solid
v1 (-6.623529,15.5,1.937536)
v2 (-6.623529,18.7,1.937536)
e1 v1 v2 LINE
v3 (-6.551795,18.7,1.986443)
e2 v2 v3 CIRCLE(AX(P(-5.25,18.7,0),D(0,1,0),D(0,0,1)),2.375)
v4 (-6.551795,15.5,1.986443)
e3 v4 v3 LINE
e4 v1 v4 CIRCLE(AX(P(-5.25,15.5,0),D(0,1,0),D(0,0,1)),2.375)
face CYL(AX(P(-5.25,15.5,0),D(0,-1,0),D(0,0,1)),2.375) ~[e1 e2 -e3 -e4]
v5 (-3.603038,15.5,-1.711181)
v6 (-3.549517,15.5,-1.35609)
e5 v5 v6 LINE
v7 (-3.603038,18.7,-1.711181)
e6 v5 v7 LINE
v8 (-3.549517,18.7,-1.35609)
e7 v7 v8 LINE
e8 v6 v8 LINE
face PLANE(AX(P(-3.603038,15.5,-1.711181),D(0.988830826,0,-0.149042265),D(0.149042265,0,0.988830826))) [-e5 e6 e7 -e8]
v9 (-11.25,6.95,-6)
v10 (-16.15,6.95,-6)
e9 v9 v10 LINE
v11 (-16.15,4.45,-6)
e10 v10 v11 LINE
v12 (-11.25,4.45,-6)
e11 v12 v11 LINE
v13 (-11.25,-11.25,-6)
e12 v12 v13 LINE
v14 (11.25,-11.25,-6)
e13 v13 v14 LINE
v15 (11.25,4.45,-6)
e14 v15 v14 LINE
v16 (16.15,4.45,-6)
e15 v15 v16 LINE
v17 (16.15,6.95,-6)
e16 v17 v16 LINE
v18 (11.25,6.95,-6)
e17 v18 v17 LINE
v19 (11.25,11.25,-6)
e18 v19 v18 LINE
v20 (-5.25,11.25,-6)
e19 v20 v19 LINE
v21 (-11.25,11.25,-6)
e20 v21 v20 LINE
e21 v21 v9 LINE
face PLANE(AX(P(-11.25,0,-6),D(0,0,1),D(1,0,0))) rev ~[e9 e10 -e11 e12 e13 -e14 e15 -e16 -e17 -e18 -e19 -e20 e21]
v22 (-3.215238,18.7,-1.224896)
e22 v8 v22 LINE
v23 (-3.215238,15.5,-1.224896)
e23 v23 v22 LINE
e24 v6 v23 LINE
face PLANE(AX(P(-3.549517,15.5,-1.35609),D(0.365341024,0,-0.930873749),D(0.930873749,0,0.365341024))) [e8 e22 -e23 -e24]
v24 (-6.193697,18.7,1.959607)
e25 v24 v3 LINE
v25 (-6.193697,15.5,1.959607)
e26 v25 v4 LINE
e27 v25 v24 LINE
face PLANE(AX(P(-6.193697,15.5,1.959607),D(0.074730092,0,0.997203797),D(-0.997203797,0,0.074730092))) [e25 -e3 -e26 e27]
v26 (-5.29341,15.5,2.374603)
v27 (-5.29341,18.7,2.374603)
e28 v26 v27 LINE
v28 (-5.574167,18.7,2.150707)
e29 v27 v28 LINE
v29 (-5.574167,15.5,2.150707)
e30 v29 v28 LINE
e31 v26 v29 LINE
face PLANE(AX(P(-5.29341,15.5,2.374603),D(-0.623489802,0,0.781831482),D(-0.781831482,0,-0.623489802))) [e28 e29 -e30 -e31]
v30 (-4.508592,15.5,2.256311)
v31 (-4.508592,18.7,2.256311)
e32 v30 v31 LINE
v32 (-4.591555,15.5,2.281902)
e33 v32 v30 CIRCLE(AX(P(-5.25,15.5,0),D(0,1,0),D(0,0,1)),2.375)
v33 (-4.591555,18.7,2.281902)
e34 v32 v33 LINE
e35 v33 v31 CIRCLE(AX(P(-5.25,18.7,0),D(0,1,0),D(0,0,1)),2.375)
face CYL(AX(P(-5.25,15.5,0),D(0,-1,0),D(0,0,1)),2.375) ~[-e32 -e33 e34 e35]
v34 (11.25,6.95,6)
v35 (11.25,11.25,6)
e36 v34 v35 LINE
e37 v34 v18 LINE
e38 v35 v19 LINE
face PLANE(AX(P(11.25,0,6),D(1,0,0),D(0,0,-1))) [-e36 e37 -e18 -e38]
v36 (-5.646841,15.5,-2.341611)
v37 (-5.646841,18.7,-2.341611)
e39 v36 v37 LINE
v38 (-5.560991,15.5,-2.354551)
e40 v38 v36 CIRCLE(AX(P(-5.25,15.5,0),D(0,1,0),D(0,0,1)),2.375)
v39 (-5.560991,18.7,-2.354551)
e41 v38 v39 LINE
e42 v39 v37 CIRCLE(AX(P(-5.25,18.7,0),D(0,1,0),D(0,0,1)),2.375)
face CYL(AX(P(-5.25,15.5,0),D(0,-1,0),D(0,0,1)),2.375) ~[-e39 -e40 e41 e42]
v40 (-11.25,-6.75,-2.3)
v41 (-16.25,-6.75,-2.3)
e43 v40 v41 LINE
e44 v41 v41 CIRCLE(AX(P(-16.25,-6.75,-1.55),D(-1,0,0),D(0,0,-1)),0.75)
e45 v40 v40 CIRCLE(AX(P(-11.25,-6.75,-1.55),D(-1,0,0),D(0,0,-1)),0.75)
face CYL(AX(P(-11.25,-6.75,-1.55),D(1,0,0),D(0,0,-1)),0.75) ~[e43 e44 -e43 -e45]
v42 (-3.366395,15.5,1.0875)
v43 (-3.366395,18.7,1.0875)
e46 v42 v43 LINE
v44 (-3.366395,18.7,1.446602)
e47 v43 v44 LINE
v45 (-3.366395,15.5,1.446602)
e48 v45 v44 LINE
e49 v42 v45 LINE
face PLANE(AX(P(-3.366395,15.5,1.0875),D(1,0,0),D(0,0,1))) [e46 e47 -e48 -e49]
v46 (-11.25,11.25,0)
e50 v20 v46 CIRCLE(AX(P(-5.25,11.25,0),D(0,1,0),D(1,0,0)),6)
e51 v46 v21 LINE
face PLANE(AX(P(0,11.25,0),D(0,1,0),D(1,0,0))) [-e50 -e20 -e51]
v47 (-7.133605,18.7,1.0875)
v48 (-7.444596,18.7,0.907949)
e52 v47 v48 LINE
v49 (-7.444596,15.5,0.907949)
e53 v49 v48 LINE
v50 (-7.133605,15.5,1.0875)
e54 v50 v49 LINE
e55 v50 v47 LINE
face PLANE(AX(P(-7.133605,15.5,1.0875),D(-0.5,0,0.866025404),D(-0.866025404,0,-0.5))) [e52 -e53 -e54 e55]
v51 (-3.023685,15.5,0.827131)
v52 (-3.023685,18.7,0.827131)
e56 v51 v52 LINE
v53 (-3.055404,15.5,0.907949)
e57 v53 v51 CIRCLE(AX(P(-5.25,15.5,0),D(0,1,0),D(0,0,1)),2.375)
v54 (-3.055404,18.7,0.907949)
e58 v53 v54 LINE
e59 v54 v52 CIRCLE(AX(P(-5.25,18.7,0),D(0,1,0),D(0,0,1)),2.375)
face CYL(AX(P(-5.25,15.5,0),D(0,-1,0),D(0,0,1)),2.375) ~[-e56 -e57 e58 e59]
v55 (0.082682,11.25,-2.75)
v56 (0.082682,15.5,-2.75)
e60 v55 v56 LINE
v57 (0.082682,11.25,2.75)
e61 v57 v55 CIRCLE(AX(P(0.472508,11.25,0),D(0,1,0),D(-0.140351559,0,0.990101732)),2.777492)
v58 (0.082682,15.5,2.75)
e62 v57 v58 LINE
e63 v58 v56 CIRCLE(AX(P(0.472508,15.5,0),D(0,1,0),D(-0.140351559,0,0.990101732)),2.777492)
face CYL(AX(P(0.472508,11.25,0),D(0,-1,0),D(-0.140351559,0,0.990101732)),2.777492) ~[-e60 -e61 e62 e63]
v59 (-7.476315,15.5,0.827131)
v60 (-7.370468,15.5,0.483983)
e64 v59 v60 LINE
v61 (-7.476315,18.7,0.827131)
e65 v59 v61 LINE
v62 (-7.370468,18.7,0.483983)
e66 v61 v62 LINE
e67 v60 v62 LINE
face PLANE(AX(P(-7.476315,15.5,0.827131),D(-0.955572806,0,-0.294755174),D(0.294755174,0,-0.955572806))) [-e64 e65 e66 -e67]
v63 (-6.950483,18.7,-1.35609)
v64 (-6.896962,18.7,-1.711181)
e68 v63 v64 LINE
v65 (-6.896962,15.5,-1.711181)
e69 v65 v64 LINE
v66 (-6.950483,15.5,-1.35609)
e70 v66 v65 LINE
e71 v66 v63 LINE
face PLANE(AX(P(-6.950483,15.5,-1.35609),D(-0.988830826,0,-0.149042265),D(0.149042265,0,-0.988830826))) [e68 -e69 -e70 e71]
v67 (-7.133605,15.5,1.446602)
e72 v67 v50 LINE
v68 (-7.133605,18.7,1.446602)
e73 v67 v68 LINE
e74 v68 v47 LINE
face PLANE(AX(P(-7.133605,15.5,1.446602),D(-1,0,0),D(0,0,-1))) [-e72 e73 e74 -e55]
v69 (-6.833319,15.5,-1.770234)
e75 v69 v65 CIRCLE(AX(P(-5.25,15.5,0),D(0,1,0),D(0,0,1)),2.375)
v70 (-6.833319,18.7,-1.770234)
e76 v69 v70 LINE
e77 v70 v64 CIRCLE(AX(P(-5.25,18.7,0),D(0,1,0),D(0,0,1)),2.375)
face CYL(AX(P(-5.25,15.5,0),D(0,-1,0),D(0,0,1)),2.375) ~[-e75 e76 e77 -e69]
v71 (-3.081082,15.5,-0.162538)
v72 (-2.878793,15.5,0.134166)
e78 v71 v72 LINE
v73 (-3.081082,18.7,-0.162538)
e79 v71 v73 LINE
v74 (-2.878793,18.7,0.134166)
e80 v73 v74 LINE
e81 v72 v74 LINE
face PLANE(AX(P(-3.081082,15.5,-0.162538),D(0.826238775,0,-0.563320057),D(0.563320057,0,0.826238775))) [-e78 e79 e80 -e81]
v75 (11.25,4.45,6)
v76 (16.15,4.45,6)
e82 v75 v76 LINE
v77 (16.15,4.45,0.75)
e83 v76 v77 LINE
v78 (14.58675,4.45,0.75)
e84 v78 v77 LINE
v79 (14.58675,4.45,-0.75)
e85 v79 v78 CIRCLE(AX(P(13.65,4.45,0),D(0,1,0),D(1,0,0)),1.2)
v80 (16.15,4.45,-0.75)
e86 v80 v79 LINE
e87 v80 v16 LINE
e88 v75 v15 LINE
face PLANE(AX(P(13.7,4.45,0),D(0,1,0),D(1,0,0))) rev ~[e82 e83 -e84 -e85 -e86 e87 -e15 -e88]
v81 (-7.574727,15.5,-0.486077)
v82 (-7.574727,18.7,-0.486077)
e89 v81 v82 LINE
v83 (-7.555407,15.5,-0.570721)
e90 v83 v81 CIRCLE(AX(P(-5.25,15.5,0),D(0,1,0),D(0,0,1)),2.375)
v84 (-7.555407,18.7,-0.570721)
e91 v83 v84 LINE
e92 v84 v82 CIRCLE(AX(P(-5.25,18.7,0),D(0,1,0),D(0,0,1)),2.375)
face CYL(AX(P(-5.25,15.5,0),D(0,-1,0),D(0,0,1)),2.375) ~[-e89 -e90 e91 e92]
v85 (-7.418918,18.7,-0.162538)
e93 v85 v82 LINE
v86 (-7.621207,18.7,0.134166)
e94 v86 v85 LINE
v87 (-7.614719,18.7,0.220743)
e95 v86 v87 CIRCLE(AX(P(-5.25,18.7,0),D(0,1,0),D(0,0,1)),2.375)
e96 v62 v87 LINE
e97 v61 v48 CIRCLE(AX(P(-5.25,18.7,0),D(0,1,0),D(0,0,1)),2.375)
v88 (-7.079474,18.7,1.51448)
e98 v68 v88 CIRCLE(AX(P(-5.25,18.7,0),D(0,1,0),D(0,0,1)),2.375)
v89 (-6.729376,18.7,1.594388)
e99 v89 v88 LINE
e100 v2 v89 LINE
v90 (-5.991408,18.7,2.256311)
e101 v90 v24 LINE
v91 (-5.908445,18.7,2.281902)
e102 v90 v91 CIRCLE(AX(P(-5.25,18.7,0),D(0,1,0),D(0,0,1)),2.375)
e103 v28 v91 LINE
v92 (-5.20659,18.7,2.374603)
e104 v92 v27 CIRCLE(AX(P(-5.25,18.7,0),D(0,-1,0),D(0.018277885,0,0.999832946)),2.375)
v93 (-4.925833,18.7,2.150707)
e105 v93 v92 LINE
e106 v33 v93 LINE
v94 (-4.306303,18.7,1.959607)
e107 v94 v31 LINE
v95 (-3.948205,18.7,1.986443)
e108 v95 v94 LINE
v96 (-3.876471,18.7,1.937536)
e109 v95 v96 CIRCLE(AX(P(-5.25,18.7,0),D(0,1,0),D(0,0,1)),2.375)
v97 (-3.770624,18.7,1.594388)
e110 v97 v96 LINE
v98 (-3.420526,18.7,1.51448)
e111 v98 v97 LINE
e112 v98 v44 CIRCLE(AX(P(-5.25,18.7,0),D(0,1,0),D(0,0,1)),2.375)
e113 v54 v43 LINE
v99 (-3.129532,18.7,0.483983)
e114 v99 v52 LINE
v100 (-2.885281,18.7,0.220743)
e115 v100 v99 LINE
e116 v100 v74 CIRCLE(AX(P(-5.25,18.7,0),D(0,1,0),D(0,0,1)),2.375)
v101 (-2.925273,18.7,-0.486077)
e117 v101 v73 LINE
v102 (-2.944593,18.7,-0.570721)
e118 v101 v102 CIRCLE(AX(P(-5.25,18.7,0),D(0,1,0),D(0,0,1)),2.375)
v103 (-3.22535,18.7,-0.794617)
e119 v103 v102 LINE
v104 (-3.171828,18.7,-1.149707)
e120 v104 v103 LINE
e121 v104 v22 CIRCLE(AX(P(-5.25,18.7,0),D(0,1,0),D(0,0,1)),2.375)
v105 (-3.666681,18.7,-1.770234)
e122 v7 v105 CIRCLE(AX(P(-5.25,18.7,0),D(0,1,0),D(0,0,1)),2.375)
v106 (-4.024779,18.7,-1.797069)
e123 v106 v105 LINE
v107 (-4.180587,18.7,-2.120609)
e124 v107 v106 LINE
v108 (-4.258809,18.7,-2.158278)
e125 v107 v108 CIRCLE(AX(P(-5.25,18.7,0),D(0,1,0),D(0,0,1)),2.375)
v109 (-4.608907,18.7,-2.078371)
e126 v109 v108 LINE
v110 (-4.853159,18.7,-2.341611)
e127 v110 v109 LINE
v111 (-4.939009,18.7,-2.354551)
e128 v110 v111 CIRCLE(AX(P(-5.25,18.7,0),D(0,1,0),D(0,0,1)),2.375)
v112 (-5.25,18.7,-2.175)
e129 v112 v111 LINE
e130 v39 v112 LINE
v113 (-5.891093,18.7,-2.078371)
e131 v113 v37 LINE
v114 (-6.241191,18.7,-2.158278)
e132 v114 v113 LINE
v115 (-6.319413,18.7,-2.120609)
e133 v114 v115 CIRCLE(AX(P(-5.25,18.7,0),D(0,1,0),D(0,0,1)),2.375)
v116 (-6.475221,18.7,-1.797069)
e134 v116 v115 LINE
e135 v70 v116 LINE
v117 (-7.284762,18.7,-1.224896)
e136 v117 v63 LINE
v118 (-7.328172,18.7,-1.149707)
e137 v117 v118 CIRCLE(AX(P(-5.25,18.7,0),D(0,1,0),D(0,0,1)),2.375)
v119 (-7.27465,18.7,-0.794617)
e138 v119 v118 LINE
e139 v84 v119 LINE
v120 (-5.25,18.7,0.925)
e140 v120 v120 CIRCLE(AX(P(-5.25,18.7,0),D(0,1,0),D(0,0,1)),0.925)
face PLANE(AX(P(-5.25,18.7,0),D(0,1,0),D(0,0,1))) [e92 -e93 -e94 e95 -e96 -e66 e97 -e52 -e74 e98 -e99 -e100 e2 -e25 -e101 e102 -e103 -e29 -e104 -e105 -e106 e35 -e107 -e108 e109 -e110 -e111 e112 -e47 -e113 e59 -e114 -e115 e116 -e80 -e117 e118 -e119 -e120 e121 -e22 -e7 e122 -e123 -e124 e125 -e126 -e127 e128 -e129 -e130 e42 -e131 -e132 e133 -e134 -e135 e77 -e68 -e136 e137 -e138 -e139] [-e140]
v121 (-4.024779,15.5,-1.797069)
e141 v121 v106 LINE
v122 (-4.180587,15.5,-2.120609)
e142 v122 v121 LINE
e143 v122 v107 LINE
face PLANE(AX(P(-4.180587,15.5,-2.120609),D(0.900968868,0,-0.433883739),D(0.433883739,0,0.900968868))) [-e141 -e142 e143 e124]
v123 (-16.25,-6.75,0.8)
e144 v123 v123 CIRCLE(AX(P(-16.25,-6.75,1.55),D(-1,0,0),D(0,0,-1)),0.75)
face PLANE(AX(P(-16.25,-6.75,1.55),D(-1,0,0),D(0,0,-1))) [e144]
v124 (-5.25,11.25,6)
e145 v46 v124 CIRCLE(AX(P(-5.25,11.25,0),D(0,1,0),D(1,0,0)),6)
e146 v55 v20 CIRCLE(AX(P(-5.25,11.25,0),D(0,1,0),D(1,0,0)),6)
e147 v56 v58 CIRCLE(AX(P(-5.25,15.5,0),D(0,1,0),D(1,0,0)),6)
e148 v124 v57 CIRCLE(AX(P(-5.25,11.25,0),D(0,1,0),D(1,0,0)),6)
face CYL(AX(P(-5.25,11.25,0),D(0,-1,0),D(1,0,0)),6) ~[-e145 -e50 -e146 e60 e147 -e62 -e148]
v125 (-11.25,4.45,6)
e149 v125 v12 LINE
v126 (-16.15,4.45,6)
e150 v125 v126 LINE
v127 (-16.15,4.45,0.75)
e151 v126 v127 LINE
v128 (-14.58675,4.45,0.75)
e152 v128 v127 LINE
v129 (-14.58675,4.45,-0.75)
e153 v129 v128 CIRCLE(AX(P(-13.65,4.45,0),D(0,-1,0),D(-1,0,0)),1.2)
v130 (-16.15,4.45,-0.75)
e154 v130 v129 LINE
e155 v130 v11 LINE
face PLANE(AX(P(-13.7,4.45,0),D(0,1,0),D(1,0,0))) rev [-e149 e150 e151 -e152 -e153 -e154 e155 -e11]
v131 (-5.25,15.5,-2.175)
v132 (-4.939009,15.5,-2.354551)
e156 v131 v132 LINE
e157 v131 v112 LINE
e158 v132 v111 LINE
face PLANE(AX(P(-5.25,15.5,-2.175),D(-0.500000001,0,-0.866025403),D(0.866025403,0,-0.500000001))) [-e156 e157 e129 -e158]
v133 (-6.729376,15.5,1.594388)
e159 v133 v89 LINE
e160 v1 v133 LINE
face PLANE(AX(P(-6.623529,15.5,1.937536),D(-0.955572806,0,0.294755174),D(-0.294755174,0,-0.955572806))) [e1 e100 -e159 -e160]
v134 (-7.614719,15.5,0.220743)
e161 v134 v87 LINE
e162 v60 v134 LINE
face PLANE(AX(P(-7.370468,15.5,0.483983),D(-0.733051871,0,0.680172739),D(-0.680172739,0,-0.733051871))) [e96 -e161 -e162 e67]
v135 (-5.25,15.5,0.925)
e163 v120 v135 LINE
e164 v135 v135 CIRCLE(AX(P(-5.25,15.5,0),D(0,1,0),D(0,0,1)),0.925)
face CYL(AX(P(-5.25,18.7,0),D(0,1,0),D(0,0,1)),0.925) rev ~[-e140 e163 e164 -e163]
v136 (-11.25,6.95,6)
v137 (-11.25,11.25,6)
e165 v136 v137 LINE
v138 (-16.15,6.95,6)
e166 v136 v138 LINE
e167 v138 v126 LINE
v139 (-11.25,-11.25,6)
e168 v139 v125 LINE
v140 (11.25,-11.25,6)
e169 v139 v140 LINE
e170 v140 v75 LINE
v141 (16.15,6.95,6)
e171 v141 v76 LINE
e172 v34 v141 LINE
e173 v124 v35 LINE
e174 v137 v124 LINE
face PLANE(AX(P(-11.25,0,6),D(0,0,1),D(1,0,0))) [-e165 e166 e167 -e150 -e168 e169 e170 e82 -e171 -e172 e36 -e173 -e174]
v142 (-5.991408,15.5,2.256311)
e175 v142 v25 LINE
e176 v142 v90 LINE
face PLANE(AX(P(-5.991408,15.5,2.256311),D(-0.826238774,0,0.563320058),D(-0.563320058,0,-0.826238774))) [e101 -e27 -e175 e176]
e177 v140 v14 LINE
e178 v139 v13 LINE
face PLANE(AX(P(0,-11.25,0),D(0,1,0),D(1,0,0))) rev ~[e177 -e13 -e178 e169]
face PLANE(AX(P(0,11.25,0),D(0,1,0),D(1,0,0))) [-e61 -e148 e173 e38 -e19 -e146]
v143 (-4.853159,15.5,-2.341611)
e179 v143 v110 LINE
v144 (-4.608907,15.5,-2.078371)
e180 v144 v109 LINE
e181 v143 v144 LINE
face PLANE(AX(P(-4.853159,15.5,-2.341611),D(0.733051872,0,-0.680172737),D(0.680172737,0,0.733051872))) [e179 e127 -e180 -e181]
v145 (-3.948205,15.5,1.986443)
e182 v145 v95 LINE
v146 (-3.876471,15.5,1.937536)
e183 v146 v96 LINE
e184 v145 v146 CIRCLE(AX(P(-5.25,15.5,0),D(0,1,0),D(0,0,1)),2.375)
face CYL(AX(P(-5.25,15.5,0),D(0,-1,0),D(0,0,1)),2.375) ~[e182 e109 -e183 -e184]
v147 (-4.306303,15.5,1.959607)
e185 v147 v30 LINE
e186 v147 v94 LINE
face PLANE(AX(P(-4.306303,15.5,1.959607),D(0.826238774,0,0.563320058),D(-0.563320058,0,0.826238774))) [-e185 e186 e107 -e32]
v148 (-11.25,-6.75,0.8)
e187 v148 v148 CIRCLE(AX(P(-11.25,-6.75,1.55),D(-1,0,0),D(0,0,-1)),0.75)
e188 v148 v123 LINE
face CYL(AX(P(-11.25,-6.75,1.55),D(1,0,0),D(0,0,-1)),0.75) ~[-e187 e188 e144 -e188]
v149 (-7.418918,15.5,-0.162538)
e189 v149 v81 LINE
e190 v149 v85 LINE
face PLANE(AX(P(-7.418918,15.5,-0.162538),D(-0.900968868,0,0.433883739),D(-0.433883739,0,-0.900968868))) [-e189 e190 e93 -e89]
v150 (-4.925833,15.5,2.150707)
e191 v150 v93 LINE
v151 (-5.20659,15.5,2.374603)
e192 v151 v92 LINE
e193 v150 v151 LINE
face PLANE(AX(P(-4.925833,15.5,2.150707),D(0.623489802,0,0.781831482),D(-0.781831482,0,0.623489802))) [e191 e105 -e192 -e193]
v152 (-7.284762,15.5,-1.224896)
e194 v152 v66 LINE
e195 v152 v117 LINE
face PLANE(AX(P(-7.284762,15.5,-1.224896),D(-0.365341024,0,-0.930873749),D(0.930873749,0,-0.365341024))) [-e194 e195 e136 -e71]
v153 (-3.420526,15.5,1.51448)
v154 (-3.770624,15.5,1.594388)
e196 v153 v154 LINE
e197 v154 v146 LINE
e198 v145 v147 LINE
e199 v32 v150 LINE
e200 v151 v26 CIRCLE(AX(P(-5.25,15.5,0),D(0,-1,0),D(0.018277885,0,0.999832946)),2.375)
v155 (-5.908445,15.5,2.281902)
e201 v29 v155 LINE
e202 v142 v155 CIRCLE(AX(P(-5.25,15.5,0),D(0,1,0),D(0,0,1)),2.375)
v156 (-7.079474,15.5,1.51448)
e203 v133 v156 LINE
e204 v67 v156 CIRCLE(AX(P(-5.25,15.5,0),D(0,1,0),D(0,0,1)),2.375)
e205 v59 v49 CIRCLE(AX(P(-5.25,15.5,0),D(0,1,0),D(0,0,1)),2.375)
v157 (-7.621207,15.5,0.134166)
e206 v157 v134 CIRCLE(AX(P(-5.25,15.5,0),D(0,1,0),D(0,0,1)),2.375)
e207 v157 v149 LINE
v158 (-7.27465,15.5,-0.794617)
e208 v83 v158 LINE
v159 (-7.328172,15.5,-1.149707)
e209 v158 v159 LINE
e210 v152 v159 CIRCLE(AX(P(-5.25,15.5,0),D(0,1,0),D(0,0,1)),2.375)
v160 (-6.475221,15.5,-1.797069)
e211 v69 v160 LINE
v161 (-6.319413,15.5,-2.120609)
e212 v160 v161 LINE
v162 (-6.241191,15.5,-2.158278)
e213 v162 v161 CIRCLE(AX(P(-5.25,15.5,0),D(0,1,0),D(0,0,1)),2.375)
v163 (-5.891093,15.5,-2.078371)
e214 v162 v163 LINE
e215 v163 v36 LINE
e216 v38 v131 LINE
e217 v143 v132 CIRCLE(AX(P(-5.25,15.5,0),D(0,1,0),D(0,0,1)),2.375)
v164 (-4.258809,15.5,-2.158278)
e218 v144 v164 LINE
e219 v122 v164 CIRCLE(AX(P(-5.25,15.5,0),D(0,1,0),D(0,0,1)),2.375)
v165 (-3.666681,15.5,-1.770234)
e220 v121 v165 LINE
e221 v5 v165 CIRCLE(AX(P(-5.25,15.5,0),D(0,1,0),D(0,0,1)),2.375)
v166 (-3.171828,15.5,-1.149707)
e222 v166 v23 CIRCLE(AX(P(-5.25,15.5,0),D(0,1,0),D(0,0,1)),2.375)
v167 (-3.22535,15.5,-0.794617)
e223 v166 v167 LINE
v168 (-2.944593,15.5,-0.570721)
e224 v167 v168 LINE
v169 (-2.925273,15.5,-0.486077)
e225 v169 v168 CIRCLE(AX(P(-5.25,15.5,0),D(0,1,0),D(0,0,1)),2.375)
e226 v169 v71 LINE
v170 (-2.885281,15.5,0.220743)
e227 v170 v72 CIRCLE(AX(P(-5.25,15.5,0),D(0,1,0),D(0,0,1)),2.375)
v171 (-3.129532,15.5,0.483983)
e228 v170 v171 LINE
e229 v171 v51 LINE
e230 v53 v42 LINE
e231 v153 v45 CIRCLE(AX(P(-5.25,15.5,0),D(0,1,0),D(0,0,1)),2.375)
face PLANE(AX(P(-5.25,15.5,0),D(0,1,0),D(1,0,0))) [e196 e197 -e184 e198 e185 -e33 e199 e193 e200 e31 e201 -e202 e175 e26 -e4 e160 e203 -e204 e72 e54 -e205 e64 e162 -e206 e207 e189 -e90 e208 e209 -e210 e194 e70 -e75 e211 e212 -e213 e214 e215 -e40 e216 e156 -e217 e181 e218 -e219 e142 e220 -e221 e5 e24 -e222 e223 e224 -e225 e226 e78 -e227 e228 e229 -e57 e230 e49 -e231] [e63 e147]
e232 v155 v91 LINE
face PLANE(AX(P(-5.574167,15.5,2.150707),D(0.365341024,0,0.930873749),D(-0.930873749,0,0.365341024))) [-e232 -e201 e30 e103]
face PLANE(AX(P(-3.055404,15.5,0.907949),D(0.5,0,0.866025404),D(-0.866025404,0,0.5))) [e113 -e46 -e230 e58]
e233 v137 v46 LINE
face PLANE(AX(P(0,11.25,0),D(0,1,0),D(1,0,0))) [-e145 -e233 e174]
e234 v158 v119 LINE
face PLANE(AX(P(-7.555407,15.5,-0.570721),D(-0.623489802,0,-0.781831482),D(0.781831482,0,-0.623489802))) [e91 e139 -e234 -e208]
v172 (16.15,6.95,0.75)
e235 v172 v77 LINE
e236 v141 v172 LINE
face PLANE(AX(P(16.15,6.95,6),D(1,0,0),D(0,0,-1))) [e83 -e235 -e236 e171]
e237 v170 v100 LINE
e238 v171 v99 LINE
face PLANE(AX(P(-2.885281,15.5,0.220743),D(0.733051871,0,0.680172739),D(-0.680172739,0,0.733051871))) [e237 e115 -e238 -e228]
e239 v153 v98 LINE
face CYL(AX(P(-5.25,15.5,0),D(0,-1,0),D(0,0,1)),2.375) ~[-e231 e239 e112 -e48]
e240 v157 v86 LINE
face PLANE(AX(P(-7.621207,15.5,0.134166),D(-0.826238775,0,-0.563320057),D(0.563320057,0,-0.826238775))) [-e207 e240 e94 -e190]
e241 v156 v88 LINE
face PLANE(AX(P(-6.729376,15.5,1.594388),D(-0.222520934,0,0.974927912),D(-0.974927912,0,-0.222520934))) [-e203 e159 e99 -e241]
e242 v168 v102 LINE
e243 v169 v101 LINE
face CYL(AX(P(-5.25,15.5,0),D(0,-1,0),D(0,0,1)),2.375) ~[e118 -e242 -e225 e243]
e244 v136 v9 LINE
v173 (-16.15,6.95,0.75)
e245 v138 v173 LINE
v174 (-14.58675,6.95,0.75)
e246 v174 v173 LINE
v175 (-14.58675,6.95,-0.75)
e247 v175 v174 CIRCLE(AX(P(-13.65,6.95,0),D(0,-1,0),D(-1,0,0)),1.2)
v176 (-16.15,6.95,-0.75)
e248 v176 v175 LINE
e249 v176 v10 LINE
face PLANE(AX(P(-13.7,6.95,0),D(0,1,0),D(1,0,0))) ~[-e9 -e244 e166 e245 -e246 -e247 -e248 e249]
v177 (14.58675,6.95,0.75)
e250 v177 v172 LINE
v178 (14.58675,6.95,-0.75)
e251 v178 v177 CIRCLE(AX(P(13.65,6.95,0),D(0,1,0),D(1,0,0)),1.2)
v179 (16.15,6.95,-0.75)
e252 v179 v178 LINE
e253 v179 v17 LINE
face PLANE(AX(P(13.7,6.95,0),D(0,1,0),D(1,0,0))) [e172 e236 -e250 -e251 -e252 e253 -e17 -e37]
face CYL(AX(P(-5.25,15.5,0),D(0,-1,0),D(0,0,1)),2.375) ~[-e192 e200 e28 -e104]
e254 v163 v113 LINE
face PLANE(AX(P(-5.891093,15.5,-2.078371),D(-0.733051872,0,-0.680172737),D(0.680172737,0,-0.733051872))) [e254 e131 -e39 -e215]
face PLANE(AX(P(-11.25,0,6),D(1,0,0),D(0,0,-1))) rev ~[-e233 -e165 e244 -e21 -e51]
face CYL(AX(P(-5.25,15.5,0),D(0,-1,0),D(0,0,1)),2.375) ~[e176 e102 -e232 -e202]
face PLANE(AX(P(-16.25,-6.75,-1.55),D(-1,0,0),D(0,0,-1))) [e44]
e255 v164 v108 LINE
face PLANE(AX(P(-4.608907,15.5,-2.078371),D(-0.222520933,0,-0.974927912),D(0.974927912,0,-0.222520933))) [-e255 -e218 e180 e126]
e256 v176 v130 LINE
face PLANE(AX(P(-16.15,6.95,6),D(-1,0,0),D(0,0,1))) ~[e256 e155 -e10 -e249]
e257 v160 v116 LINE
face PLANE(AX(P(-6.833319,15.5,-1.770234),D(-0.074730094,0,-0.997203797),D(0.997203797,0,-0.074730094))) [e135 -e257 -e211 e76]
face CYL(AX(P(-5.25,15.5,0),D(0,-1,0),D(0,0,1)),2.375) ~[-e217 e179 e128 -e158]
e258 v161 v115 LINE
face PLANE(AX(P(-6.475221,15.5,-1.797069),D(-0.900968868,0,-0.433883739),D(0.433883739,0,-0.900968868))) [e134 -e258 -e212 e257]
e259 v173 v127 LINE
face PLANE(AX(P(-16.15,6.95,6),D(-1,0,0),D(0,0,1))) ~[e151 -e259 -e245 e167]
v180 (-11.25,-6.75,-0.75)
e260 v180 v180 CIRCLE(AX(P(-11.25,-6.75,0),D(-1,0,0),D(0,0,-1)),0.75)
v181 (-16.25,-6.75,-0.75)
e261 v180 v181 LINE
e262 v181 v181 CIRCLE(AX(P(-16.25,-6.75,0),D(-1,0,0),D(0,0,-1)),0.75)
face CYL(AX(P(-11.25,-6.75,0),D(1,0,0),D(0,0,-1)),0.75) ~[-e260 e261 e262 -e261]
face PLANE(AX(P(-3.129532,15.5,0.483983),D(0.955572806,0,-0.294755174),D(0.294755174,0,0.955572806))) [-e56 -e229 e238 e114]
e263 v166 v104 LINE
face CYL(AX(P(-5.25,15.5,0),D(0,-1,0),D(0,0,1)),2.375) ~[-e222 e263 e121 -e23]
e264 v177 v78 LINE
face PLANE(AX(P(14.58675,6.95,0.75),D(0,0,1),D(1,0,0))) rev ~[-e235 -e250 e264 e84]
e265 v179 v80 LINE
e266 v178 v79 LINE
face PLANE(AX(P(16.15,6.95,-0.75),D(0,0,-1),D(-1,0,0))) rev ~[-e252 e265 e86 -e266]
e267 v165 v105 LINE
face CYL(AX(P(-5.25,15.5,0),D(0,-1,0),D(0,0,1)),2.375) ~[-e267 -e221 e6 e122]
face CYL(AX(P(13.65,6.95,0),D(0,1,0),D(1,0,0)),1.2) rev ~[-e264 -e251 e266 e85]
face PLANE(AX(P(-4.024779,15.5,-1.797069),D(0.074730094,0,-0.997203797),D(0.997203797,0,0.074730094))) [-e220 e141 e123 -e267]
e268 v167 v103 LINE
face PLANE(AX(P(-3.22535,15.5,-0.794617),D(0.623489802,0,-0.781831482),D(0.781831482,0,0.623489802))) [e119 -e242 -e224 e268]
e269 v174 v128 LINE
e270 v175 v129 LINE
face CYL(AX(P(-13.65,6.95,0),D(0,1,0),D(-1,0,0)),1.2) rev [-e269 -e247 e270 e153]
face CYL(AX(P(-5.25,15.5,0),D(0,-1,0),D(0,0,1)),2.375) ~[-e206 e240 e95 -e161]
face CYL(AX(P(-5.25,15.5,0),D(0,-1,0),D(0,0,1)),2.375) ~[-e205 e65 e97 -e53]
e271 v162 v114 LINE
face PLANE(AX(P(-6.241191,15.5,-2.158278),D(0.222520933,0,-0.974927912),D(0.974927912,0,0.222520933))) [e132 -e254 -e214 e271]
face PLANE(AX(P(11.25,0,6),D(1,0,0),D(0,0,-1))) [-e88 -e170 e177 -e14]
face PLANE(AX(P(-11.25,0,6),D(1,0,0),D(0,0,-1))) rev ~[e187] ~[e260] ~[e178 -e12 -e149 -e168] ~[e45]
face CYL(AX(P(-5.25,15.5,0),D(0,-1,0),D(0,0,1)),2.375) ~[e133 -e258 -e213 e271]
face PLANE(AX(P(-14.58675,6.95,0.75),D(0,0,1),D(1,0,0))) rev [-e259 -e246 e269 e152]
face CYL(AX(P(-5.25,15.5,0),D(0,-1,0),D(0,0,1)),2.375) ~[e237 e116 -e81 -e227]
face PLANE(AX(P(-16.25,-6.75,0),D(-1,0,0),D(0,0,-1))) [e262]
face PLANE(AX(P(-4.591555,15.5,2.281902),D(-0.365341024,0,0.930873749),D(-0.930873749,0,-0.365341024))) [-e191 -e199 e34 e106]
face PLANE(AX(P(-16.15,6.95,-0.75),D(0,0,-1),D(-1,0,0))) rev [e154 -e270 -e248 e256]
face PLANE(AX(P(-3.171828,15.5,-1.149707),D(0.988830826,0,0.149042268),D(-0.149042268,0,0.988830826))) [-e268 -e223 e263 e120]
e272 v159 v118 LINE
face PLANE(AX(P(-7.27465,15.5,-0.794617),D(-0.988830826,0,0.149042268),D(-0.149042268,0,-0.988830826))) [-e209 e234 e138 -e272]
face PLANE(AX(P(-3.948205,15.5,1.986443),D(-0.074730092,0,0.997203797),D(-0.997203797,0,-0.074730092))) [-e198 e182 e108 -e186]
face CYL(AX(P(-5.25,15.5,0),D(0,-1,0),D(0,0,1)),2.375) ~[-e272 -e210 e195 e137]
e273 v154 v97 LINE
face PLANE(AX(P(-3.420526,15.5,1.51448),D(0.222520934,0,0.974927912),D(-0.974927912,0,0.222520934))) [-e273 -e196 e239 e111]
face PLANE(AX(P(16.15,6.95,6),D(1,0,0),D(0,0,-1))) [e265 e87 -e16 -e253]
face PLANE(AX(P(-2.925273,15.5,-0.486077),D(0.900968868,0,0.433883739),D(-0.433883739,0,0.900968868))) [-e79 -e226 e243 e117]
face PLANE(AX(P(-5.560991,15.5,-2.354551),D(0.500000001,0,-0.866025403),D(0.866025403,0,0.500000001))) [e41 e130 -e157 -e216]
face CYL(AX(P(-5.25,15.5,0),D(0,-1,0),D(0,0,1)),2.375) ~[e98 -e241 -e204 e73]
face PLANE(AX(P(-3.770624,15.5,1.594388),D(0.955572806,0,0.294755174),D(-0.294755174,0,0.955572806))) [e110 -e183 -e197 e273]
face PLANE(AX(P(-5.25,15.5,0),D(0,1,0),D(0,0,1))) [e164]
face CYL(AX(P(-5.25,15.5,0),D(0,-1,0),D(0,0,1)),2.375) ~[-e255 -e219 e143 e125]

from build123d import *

# Parameters (mm, degrees)
SKETCH1_W           = 22.5
SKETCH1_H           = 12
BOSS_EXTRUDE1_DEPTH = 11.25
SKETCH3_R           = 6
SKETCH3_R_2         = 2.777492364
BOSS_EXTRUDE3_DEPTH = 4.25
SKETCH4_W           = 4.9
SKETCH4_H           = 12
BOSS_EXTRUDE4_DEPTH = 2.5
SKETCH5_R           = 1.2
CUT_EXTRUDE1_DEPTH  = 2.5
SKETCH6_R           = 0.75
BOSS_EXTRUDE5_DEPTH = 5
SKETCH7_R           = 2.375
BOSS_EXTRUDE6_DEPTH = 3.2
CUT_EXTRUDE2_START  = -3.2
CUT_EXTRUDE2_DEPTH  = 3.2
SKETCH9_R           = 0.925
CUT_EXTRUDE3_DEPTH  = 3.2


with BuildPart() as part:
    # Sketch1 → Boss-Extrude1 (new, symmetric)
    with BuildSketch(Plane(origin=(0, 0, 0), x_dir=(1, 0, 0), z_dir=(0, 1, 0))):
        Rectangle(SKETCH1_W, SKETCH1_H)
    extrude(amount=BOSS_EXTRUDE1_DEPTH, both=True)

    # Sketch3 → Boss-Extrude3 (add)
    with BuildSketch(Plane(origin=(0, 11.25, 0), x_dir=(1, 0, 0), z_dir=(0, 1, 0))):
        with Locations((-5.25, 0)):
            Circle(SKETCH3_R)
        with Locations((0.472507636, 0)):
            Circle(SKETCH3_R_2)
    extrude(amount=BOSS_EXTRUDE3_DEPTH)

    # Sketch4 → Boss-Extrude4 (add)
    with BuildSketch(Plane(origin=(0, 6.95, 0), x_dir=(1, 0, 0), z_dir=(0, 1, 0))):
        with Locations((13.7, 0)):
            Rectangle(SKETCH4_W, SKETCH4_H)
    boss_extrude4 = extrude(amount=-BOSS_EXTRUDE4_DEPTH)

    # Sketch5 → Cut-Extrude1 (cut)
    with BuildSketch(Plane(origin=(0, 6.95, 0), x_dir=(1, 0, 0), z_dir=(0, 1, 0))):
        with BuildLine():
            Line((16.15, -0.75), (16.15, 0.75))
            Line((16.15, 0.75), (14.5867497, 0.75))
            ThreePointArc((14.5867497, 0.75), (14.782276388, 0.397429466), (14.85, 0))
            ThreePointArc((14.85, 0), (14.782276388, -0.397429466), (14.5867497, -0.75))
            Line((14.5867497, -0.75), (16.15, -0.75))
        make_face()
        with Locations((13.65, 0)):
            Circle(SKETCH5_R)
    cut_extrude1 = extrude(amount=-CUT_EXTRUDE1_DEPTH, mode=Mode.SUBTRACT)

    # Mirror1: Boss-Extrude4, Cut-Extrude1 across plane
    add(boss_extrude4.mirror(Plane(origin=(0, 0, 0), x_dir=(0, 0, 1), z_dir=(1, 0, 0))))
    add(cut_extrude1.mirror(Plane(origin=(0, 0, 0), x_dir=(0, 0, 1), z_dir=(1, 0, 0))), mode=Mode.SUBTRACT)

    # Sketch6 → Boss-Extrude5 (add)
    with BuildSketch(Plane.ZY.offset(11.25)):
        with Locations(Location((0, -6.75, 0), (0, 0, 180))):
            Circle(SKETCH6_R)
        with Locations(Location((1.55, -6.75, 0), (0, 0, 180))):
            Circle(SKETCH6_R)
        with Locations(Location((-1.55, -6.75, 0), (0, 0, 180))):
            Circle(SKETCH6_R)
    extrude(amount=BOSS_EXTRUDE5_DEPTH)

    # Sketch7 → Boss-Extrude6 (add)
    with BuildSketch(Plane(origin=(0, 15.5, 0), x_dir=(1, 0, 0), z_dir=(0, 1, 0))):
        with Locations(Location((-5.25, 0, 0), (0, 0, 270))):
            Circle(SKETCH7_R)
    extrude(amount=BOSS_EXTRUDE6_DEPTH)

    # Sketch8 → Cut-Extrude2 (cut)
    with BuildSketch(Plane(origin=(0, 18.7, 0), x_dir=(1, 0, 0), z_dir=(0, 1, 0)).offset(CUT_EXTRUDE2_START)):
        with BuildLine():
            ThreePointArc((-4.939008874, 2.354550811), (-5.25, 2.375), (-5.560991126, 2.354550811))
            Line((-5.560991126, 2.354550811), (-5.25, 2.175))
            Line((-5.25, 2.175), (-4.939008874, 2.354550811))
        make_face()
        with BuildLine():
            ThreePointArc((-4.258809302, 2.158278481), (-4.549956461, 2.269485414), (-4.853158628, 2.341610968))
            Line((-4.853158628, 2.341610968), (-4.608907496, 2.078370853))
            Line((-4.608907496, 2.078370853), (-4.258809302, 2.158278481))
        make_face()
        with BuildLine():
            ThreePointArc((-3.666681374, 1.770233636), (-3.912114862, 1.962317089), (-4.180587228, 2.120608715))
            Line((-4.180587228, 2.120608715), (-4.024778874, 1.797069334))
            Line((-4.024778874, 1.797069334), (-3.666681374, 1.770233636))
        make_face()
        with BuildLine():
            ThreePointArc((-3.215238254, 1.224895765), (-3.393150229, 1.480788279), (-3.603037845, 1.711181072))
            Line((-3.603037845, 1.711181072), (-3.549516526, 1.356090319))
            Line((-3.549516526, 1.356090319), (-3.215238254, 1.224895765))
        make_face()
        with BuildLine():
            ThreePointArc((-2.944592644, 0.570720529), (-3.039174847, 0.867684933), (-3.171828277, 1.149707481))
            Line((-3.171828277, 1.149707481), (-3.225349597, 0.794616728))
            Line((-3.225349597, 0.794616728), (-2.944592644, 0.570720529))
        make_face()
        with BuildLine():
            ThreePointArc((-2.878792595, -0.13416573), (-2.881640982, 0.177483972), (-2.925273387, 0.486077335))
            Line((-2.925273387, 0.486077335), (-3.081081741, 0.162537954))
            Line((-3.081081741, 0.162537954), (-2.878792595, -0.13416573))
        make_face()
        with BuildLine():
            ThreePointArc((-3.02368473, -0.827130775), (-2.934546209, -0.528487218), (-2.885280658, -0.220742916))
            Line((-2.885280658, -0.220742916), (-3.129531791, -0.483983031))
            Line((-3.129531791, -0.483983031), (-3.02368473, -0.827130775))
        make_face()
        with BuildLine():
            ThreePointArc((-3.366394747, -1.446601621), (-3.193189666, -1.1875), (-3.05540362, -0.907949189))
            Line((-3.05540362, -0.907949189), (-3.366394747, -1.0875))
            Line((-3.366394747, -1.0875), (-3.366394747, -1.446601621))
        make_face()
        with BuildLine():
            ThreePointArc((-3.876471356, -1.937535565), (-3.634589748, -1.740998196), (-3.420526102, -1.514480193))
            Line((-3.420526102, -1.514480193), (-3.770624295, -1.594387821))
            Line((-3.770624295, -1.594387821), (-3.876471356, -1.937535565))
        make_face()
        with BuildLine():
            ThreePointArc((-4.508592013, -2.256310971), (-4.21952612, -2.139801061), (-3.948205367, -1.986442985))
            Line((-3.948205367, -1.986442985), (-4.306302867, -1.959607288))
            Line((-4.306302867, -1.959607288), (-4.508592013, -2.256310971))
        make_face()
        with BuildLine():
            ThreePointArc((-5.206590024, -2.374603246), (-4.896024618, -2.348473212), (-4.591554799, -2.281901601))
            Line((-4.591554799, -2.281901601), (-4.925833071, -2.150707047))
            Line((-4.925833071, -2.150707047), (-5.206590024, -2.374603246))
        make_face()
        with BuildLine():
            ThreePointArc((-5.908445201, -2.281901601), (-5.603975382, -2.348473212), (-5.293409976, -2.374603246))
            Line((-5.293409976, -2.374603246), (-5.574166929, -2.150707047))
            Line((-5.574166929, -2.150707047), (-5.908445201, -2.281901601))
        make_face()
        with BuildLine():
            ThreePointArc((-6.551794633, -1.986442985), (-6.28047388, -2.139801061), (-5.991407987, -2.256310971))
            Line((-5.991407987, -2.256310971), (-6.193697133, -1.959607288))
            Line((-6.193697133, -1.959607288), (-6.551794633, -1.986442985))
        make_face()
        with BuildLine():
            ThreePointArc((-7.079473898, -1.514480193), (-6.865410252, -1.740998196), (-6.623528644, -1.937535565))
            Line((-6.623528644, -1.937535565), (-6.729375705, -1.594387821))
            Line((-6.729375705, -1.594387821), (-7.079473898, -1.514480193))
        make_face()
        with BuildLine():
            ThreePointArc((-7.44459638, -0.907949189), (-7.306810334, -1.1875), (-7.133605253, -1.446601621))
            Line((-7.133605253, -1.446601621), (-7.133605253, -1.0875))
            Line((-7.133605253, -1.0875), (-7.44459638, -0.907949189))
        make_face()
        with BuildLine():
            ThreePointArc((-7.614719342, -0.220742916), (-7.565453791, -0.528487218), (-7.47631527, -0.827130775))
            Line((-7.47631527, -0.827130775), (-7.370468209, -0.483983031))
            Line((-7.370468209, -0.483983031), (-7.614719342, -0.220742916))
        make_face()
        with BuildLine():
            ThreePointArc((-7.574726613, 0.486077335), (-7.618359018, 0.177483972), (-7.621207405, -0.13416573))
            Line((-7.621207405, -0.13416573), (-7.418918259, 0.162537954))
            Line((-7.418918259, 0.162537954), (-7.574726613, 0.486077335))
        make_face()
        with BuildLine():
            ThreePointArc((-7.328171723, 1.149707481), (-7.460825153, 0.867684933), (-7.555407356, 0.570720529))
            Line((-7.555407356, 0.570720529), (-7.274650403, 0.794616728))
            Line((-7.274650403, 0.794616728), (-7.328171723, 1.149707481))
        make_face()
        with BuildLine():
            ThreePointArc((-6.896962155, 1.711181072), (-7.106849771, 1.480788279), (-7.284761746, 1.224895765))
            Line((-7.284761746, 1.224895765), (-6.950483474, 1.356090319))
            Line((-6.950483474, 1.356090319), (-6.896962155, 1.711181072))
        make_face()
        with BuildLine():
            ThreePointArc((-6.319412772, 2.120608715), (-6.587885138, 1.962317089), (-6.833318626, 1.770233636))
            Line((-6.833318626, 1.770233636), (-6.475221126, 1.797069334))
            Line((-6.475221126, 1.797069334), (-6.319412772, 2.120608715))
        make_face()
        with BuildLine():
            ThreePointArc((-5.646841372, 2.341610968), (-5.950043539, 2.269485414), (-6.241190698, 2.158278481))
            Line((-6.241190698, 2.158278481), (-5.891092504, 2.078370853))
            Line((-5.891092504, 2.078370853), (-5.646841372, 2.341610968))
        make_face()
    extrude(amount=CUT_EXTRUDE2_DEPTH, mode=Mode.SUBTRACT)

    # Sketch9 → Cut-Extrude3 (cut)
    with BuildSketch(Plane(origin=(0, 18.7, 0), x_dir=(1, 0, 0), z_dir=(0, 1, 0))):
        with Locations(Location((-5.25, 0, 0), (0, 0, 270))):
            Circle(SKETCH9_R)
    extrude(amount=-CUT_EXTRUDE3_DEPTH, mode=Mode.SUBTRACT)


solid = part.part
